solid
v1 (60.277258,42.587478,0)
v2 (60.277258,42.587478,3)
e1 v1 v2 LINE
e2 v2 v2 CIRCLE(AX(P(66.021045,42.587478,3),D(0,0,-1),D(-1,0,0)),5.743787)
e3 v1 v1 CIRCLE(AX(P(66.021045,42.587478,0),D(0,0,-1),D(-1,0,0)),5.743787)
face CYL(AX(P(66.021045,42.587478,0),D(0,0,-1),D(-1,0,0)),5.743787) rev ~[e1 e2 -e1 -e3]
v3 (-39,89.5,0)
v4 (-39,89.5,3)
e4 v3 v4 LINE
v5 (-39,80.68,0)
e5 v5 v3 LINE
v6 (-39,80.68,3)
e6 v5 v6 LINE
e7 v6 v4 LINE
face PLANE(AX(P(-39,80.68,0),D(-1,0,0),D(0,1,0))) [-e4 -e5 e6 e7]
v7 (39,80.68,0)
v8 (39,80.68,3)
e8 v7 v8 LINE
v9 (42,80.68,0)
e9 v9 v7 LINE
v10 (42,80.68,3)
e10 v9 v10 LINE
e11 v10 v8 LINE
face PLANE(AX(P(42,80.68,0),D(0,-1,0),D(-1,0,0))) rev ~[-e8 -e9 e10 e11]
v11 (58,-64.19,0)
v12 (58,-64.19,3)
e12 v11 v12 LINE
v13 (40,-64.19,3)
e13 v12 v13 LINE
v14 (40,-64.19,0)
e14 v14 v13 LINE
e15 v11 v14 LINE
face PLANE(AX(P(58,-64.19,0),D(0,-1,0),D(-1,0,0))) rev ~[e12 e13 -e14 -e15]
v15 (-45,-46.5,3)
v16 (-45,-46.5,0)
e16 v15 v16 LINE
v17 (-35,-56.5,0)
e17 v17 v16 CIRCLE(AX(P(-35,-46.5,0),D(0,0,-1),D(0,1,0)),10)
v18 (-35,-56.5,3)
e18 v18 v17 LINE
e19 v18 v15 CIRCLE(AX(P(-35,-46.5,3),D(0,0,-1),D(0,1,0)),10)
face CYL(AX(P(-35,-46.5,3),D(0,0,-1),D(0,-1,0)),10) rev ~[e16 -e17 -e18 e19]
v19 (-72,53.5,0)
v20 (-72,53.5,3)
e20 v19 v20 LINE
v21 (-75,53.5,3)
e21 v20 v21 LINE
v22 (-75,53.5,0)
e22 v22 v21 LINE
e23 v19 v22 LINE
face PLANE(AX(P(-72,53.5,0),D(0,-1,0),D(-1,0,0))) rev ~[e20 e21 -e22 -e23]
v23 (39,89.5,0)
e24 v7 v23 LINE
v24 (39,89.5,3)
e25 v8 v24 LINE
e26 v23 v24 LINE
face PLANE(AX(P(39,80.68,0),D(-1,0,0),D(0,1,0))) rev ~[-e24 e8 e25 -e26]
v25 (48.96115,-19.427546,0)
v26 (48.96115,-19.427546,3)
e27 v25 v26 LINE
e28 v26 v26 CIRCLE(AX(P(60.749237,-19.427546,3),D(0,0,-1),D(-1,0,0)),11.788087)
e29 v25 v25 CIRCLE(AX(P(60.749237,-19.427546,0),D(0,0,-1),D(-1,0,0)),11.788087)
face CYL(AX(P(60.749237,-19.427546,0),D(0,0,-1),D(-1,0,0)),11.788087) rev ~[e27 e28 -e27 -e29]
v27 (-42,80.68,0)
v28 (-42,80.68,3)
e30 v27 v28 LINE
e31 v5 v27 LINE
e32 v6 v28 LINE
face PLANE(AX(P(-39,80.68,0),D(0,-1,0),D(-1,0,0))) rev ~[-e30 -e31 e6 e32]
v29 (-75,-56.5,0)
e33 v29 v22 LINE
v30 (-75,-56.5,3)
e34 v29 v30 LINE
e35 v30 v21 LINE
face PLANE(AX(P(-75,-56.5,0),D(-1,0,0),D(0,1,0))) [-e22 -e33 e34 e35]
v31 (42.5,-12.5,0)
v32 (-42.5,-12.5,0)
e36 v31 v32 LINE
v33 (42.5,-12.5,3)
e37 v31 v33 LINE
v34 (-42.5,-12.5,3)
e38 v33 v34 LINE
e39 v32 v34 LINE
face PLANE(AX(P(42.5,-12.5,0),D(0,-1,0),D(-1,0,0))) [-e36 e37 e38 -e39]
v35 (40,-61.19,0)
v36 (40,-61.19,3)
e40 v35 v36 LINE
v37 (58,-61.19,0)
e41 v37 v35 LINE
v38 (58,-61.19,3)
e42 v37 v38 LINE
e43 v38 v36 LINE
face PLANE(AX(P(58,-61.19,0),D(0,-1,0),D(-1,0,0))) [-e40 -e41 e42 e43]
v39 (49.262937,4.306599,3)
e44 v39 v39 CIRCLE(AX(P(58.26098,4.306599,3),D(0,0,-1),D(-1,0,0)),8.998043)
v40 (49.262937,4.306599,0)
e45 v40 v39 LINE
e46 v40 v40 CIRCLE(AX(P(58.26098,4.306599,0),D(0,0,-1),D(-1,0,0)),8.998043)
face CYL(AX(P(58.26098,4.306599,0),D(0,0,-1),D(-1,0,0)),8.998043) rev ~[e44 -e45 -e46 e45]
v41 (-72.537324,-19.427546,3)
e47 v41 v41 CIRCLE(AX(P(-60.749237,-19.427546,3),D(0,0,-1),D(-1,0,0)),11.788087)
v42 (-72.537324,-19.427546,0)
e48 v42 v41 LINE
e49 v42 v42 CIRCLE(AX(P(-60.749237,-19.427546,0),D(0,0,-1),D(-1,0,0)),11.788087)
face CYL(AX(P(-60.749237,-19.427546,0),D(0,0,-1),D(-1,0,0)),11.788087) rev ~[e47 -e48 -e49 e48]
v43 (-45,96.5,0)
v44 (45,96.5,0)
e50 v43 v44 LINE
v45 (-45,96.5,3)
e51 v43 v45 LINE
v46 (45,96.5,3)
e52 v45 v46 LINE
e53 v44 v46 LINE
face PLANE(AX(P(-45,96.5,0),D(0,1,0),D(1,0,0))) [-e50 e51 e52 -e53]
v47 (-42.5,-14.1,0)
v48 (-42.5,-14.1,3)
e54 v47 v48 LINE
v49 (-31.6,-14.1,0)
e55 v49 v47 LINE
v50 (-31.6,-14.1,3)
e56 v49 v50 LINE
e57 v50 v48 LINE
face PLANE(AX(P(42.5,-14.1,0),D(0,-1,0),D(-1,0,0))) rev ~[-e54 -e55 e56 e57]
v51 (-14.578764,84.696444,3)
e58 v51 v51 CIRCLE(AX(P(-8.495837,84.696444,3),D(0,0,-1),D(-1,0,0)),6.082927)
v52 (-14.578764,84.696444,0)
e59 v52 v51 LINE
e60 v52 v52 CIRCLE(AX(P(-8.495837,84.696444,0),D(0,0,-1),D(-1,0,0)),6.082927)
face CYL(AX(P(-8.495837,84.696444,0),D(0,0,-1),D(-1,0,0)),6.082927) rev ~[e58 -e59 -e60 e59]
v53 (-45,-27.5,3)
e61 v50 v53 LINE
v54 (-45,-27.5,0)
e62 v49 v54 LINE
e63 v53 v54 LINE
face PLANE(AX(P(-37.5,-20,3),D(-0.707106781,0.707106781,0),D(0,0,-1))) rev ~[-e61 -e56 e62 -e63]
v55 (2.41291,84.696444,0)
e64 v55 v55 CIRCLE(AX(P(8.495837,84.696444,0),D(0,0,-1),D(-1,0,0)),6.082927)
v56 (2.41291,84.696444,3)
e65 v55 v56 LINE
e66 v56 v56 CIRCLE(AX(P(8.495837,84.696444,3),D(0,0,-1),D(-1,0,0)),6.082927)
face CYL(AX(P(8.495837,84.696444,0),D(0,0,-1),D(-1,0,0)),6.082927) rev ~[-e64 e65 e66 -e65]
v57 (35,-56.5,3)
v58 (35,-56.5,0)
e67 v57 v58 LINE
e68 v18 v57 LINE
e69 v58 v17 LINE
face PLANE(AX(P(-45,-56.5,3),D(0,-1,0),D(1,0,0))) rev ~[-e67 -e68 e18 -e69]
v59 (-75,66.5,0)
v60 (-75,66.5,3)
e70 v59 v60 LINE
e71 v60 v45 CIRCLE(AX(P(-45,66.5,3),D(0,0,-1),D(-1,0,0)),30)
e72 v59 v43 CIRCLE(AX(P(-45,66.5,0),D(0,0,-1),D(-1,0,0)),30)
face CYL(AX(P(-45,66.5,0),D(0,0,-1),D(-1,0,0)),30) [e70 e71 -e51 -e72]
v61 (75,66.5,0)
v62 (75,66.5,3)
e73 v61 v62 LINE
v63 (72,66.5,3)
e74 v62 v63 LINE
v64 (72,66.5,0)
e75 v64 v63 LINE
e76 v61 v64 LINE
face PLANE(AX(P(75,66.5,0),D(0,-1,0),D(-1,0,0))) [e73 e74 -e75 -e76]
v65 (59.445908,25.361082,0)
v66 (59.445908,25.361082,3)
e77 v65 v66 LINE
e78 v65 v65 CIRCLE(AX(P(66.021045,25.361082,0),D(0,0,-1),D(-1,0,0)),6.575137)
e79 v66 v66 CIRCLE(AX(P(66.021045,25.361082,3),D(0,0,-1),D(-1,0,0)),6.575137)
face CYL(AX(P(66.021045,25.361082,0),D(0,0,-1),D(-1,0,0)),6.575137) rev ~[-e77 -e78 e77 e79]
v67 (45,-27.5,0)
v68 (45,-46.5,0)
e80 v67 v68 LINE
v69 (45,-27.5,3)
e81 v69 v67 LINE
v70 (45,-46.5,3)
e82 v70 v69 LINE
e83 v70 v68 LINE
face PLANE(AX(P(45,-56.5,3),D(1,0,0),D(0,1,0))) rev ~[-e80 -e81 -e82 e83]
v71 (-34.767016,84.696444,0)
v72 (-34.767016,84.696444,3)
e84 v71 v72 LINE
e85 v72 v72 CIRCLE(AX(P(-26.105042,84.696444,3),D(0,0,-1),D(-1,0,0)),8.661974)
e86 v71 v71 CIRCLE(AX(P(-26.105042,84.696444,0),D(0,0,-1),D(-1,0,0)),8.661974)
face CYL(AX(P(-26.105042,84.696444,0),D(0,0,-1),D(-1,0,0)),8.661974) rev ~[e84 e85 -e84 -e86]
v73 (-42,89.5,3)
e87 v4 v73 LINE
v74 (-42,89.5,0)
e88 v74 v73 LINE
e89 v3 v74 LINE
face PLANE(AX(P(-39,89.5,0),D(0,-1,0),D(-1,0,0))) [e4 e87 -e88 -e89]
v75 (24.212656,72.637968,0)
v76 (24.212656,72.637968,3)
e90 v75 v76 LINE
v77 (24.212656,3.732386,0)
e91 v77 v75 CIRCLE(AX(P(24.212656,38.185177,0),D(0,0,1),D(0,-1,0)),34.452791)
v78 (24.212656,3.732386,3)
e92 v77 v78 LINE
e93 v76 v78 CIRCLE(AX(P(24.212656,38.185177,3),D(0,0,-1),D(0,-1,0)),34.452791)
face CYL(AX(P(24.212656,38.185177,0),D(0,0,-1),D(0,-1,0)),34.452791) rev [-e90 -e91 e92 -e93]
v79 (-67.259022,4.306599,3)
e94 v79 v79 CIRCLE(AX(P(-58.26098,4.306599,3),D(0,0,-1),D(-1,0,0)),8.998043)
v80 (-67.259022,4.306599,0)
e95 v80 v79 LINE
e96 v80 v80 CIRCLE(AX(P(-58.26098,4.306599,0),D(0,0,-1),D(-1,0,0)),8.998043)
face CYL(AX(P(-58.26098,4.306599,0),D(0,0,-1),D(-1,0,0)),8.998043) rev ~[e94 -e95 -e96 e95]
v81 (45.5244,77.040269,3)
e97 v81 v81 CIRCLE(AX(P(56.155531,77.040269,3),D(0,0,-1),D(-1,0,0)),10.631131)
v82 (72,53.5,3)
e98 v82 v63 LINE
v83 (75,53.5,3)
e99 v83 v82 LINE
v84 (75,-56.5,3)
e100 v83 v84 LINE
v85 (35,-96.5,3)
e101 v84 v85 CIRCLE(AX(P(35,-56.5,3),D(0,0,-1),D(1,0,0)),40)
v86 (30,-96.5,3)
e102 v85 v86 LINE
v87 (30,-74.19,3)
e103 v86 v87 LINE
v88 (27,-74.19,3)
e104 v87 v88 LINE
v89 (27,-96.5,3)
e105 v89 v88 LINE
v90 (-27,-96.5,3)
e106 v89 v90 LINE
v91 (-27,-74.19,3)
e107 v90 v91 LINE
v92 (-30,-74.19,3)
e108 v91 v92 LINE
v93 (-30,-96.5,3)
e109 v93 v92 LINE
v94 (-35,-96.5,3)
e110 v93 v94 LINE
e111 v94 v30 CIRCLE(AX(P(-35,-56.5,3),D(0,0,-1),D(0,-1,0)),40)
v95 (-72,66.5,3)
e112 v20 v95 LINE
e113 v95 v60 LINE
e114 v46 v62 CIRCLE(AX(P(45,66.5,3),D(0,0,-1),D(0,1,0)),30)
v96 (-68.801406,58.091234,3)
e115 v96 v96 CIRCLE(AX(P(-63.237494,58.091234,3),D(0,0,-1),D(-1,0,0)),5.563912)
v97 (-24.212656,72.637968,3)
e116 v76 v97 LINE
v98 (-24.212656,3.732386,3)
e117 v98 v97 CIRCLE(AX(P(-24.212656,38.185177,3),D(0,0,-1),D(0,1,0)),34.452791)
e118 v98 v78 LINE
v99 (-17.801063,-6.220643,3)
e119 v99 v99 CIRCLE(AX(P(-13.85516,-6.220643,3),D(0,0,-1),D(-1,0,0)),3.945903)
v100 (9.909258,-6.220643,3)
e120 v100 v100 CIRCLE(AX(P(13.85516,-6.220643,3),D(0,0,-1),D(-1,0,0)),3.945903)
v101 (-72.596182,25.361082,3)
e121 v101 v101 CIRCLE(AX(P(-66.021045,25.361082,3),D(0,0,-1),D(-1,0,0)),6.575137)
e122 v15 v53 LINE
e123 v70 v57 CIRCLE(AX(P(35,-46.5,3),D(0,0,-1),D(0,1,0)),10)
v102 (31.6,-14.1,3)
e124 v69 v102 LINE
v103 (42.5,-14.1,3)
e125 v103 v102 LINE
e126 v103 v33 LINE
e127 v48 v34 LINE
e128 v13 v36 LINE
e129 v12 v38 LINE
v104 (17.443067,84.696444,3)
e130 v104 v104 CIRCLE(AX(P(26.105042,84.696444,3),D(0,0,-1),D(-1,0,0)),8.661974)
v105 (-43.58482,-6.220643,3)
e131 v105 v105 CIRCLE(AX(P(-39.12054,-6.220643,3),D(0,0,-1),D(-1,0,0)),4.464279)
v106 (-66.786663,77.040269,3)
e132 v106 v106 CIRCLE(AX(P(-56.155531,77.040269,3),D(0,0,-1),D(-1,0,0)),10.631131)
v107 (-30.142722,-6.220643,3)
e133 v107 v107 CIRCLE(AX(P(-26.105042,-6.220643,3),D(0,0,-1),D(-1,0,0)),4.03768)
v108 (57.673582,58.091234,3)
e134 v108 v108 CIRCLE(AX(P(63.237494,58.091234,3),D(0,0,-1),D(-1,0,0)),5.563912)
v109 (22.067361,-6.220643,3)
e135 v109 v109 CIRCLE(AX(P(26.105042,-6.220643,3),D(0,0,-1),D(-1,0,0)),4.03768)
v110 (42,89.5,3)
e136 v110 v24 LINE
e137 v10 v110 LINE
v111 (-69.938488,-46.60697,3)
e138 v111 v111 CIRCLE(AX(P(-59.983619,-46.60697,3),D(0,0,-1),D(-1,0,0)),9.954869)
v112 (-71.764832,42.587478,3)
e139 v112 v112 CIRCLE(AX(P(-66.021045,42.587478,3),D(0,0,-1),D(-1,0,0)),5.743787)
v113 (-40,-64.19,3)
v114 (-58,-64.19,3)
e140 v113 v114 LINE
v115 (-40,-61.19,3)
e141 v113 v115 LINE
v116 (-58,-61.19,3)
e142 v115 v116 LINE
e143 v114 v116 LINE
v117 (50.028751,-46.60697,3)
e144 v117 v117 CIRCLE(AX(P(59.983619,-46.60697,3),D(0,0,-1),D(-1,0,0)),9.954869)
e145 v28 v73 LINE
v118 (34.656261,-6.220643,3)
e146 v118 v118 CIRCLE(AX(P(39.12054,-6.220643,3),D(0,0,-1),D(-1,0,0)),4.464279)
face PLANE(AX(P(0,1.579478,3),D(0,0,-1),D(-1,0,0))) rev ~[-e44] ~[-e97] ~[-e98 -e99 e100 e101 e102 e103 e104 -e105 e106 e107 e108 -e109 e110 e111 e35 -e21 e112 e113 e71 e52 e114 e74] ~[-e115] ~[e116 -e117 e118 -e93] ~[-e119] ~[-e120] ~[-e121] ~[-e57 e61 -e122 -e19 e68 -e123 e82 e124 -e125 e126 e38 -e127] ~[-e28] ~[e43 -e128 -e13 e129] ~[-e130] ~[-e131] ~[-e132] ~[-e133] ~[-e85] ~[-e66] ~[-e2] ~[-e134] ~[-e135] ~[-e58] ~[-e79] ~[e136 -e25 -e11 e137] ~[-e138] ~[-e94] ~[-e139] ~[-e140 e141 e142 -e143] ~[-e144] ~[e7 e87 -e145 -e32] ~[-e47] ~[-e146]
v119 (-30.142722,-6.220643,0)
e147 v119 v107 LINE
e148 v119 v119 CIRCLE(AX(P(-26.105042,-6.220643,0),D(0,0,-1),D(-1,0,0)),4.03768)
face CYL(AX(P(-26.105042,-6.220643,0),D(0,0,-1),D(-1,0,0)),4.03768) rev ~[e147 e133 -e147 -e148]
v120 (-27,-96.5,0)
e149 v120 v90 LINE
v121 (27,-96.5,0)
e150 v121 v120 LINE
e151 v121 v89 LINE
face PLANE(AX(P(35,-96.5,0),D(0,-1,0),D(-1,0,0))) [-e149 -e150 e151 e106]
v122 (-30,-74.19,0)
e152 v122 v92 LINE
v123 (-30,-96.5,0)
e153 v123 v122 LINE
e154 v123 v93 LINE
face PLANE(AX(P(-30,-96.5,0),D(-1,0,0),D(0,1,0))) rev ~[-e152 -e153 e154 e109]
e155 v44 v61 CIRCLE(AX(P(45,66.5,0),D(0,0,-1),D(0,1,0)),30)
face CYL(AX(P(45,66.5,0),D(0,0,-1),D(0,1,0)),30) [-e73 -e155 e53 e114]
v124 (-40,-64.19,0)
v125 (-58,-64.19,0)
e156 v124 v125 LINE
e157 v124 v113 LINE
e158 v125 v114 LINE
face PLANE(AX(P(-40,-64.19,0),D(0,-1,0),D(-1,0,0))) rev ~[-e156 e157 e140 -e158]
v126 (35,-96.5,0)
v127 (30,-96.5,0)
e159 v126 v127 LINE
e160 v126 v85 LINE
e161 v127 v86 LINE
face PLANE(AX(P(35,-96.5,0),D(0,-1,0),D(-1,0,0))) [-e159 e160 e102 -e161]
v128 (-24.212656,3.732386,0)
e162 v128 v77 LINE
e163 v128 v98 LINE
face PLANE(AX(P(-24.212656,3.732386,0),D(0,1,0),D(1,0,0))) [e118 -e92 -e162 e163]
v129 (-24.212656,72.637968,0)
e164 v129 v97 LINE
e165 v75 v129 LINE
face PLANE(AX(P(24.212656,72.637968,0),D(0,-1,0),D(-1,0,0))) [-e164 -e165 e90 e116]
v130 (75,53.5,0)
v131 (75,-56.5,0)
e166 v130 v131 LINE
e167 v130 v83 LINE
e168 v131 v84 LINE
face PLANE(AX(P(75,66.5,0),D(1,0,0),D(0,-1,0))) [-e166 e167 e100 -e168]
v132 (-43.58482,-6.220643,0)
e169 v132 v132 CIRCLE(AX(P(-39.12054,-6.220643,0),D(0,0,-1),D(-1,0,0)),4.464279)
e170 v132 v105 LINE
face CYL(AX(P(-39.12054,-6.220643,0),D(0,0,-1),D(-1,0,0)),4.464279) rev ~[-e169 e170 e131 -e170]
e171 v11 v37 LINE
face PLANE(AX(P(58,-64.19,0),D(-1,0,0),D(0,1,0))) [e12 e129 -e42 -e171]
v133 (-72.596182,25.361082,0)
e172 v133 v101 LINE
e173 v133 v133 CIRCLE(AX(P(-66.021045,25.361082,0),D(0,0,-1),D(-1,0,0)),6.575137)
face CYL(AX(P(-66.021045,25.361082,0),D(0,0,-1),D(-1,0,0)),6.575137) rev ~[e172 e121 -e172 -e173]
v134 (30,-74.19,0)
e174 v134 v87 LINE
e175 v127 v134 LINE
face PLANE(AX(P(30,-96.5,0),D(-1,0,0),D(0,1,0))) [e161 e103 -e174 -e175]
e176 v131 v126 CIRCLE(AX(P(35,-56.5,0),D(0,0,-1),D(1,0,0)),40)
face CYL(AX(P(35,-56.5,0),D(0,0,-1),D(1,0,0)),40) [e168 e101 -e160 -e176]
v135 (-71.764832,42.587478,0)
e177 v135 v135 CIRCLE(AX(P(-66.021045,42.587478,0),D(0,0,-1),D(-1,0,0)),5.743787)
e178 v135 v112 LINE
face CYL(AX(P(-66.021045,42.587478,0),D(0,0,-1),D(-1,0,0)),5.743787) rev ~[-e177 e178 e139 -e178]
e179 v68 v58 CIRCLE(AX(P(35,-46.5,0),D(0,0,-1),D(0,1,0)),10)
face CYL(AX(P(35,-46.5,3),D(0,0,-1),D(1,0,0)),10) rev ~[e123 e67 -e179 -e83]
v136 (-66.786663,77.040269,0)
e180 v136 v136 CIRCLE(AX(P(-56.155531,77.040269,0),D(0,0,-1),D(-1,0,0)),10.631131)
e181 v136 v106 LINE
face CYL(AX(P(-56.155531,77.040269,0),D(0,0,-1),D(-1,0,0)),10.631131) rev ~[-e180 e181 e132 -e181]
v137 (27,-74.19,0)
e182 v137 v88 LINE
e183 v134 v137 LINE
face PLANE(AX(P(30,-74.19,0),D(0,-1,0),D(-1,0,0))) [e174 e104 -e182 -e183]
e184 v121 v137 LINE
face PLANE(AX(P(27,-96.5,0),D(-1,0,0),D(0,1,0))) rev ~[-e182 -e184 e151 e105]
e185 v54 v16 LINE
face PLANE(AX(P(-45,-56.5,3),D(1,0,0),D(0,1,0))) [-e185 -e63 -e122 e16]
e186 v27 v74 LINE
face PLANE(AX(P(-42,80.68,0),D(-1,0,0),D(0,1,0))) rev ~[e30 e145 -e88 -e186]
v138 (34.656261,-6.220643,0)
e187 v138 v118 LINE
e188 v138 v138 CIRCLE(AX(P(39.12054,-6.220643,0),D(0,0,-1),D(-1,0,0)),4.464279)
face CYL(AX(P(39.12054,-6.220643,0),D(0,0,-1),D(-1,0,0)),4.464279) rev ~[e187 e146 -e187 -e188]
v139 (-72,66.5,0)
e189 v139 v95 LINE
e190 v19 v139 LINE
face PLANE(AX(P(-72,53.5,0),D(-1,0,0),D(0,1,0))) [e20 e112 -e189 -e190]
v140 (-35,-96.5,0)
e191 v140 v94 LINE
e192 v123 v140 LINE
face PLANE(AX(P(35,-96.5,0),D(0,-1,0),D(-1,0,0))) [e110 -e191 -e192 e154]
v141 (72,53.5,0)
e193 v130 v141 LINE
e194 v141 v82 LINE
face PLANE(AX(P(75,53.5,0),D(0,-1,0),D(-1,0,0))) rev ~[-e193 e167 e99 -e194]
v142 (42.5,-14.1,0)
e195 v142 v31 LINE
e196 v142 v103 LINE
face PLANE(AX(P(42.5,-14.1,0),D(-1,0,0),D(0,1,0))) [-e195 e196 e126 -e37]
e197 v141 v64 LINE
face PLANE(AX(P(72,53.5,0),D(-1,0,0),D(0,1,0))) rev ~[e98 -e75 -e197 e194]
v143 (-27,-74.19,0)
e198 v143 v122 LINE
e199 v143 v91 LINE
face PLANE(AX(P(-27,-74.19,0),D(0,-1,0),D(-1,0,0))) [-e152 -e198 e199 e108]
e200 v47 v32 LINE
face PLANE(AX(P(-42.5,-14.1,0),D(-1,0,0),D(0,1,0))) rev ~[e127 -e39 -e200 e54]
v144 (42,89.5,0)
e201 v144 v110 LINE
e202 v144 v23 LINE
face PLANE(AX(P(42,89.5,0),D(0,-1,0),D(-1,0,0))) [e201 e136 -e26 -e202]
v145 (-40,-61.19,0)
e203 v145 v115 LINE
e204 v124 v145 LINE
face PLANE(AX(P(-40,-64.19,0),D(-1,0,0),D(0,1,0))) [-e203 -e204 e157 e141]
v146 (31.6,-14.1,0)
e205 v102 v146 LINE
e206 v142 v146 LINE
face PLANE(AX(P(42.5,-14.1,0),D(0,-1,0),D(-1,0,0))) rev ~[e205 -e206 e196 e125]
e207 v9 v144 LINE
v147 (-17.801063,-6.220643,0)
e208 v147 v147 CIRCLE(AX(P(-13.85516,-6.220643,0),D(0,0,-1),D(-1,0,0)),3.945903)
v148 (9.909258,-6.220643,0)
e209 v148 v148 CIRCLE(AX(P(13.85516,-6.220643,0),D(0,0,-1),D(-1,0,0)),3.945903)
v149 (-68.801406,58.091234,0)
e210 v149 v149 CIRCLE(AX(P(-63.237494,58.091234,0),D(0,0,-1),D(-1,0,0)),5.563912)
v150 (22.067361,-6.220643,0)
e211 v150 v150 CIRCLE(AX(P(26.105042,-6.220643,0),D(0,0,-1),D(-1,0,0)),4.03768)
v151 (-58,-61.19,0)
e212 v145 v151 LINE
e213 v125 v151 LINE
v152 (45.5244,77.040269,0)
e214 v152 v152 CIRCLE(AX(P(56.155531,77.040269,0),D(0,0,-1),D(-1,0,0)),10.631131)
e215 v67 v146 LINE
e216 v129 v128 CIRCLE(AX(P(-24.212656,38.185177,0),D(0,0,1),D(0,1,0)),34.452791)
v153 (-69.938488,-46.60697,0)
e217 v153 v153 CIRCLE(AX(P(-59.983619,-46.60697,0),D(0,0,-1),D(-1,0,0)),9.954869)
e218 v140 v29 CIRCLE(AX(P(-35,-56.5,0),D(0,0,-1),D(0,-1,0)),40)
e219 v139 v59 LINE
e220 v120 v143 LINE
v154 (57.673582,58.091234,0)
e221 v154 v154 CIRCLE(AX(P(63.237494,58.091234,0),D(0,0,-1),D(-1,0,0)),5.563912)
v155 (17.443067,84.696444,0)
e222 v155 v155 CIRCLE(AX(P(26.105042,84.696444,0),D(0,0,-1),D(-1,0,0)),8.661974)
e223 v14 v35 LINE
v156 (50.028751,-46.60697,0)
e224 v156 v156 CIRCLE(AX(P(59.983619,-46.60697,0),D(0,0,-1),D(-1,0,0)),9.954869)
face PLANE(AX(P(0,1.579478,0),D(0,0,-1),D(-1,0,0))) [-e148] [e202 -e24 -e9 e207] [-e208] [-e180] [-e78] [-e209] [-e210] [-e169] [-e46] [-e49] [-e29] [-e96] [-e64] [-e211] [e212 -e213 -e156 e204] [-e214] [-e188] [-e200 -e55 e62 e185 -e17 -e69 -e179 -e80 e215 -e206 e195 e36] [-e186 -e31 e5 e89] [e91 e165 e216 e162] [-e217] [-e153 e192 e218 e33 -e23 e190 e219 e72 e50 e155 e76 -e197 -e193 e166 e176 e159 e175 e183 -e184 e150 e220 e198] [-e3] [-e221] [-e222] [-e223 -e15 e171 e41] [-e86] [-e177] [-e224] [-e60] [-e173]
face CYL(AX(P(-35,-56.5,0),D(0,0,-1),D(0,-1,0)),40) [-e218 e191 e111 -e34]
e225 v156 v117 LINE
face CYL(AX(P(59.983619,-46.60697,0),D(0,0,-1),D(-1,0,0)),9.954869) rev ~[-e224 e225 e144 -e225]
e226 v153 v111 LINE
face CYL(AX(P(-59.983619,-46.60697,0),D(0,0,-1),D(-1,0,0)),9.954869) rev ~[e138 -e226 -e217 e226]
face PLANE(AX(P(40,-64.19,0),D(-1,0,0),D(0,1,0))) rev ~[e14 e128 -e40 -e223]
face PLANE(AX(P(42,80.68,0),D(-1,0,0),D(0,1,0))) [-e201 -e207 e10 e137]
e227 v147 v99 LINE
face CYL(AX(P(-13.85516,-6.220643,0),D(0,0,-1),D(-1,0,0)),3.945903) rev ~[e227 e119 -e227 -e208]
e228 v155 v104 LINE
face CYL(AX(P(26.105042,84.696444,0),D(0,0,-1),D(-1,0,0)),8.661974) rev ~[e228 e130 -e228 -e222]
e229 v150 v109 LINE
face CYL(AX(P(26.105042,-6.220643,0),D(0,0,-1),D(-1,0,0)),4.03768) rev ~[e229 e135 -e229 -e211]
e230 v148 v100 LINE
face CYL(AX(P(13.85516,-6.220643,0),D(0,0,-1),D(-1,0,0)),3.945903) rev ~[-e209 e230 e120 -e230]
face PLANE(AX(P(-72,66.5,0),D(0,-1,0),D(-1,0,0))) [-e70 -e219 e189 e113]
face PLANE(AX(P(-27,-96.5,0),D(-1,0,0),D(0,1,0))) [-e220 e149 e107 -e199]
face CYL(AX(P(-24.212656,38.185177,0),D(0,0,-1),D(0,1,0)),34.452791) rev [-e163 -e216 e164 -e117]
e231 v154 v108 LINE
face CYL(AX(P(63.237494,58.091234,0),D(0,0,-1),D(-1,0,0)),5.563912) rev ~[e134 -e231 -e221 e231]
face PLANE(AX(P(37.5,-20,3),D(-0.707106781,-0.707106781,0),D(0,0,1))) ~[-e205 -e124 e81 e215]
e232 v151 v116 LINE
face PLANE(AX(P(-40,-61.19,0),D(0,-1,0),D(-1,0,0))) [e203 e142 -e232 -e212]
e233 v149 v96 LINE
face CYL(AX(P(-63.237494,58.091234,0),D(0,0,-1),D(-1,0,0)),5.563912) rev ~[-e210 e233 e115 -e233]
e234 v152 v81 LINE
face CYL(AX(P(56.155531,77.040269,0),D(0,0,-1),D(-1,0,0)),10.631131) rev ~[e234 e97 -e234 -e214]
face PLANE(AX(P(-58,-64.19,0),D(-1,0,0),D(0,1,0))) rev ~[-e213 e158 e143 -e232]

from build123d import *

# Parameters (mm, degrees)
BOSS_EXTRUDE1_DEPTH = 3
SKETCH2_W           = 90
SKETCH2_H           = 44
CUT_EXTRUDE1_DEPTH  = 10
FILLET1_R           = 10
CHAMFER1_SIZE       = 15
SKETCH3_W           = 85
SKETCH3_H           = 1.6
CUT_EXTRUDE2_DEPTH  = 10
SKETCH5_W           = 3
SKETCH5_H           = 13
SKETCH5_H_2         = 8.82
SKETCH5_W_2         = 18
SKETCH5_H_3         = 3
SKETCH5_H_4         = 22.31
CUT_EXTRUDE3_DEPTH  = 10
CUT_EXTRUDE4_DEPTH  = 10
SKETCH7_R           = 10.631131443
SKETCH7_R_2         = 8.661974079
SKETCH7_R_3         = 5.563912072
SKETCH7_R_4         = 5.743787148
SKETCH7_R_5         = 6.57513677
SKETCH7_R_6         = 8.998042507
SKETCH7_R_7         = 11.788086797
SKETCH7_R_8         = 9.954868747
SKETCH7_R_9         = 6.082926802
SKETCH7_R_10        = 4.464279257
SKETCH7_R_11        = 4.037680116
SKETCH7_R_12        = 3.945902669
CUT_EXTRUDE5_DEPTH  = 10


with BuildPart() as part:
    # Sketch1 → Boss-Extrude1 (new body)
    with BuildSketch(Plane.XY):
        with BuildLine():
            Line((-45, 96.5), (45, 96.5))
            ThreePointArc((45, 96.5), (66.213203436, 87.713203436), (75, 66.5))
            Line((75, 66.5), (75, -56.5))
            ThreePointArc((75, -56.5), (63.284271247, -84.784271247), (35, -96.5))
            Line((35, -96.5), (0.5, -96.5))
            Line((0.5, -96.5), (-0.5, -96.5))
            Line((-0.5, -96.5), (-35, -96.5))
            ThreePointArc((-35, -96.5), (-63.284271247, -84.784271247), (-75, -56.5))
            Line((-75, -56.5), (-75, 66.5))
            ThreePointArc((-75, 66.5), (-66.213203436, 87.713203436), (-45, 96.5))
        make_face()
    extrude(amount=BOSS_EXTRUDE1_DEPTH)

    # Sketch2 → Cut-Extrude1 (cut)
    with BuildSketch(Plane.XY.offset(3)):
        with Locations((0, -34.5)):
            Rectangle(SKETCH2_W, SKETCH2_H)
    extrude(amount=-CUT_EXTRUDE1_DEPTH, mode=Mode.SUBTRACT)

    # Fillet1
    fillet1_edges = [part.edges().sort_by_distance(p)[0] for p in [
        (45, -56.5, 1.5),
        (-45, -56.5, 1.5),
    ]]
    fillet(fillet1_edges, radius=FILLET1_R)

    # Chamfer1
    chamfer1_edges = [part.edges().sort_by_distance(p)[0] for p in [
        (45, -12.5, 1.5),
        (-45, -12.5, 1.5),
    ]]
    chamfer(chamfer1_edges, length=CHAMFER1_SIZE)

    # Sketch3 → Cut-Extrude2 (cut)
    with BuildSketch(Plane(origin=(0, 0, 0), x_dir=(-1, 0, 0), z_dir=(0, 0, -1))):
        with Locations((0, -13.3)):
            Rectangle(SKETCH3_W, SKETCH3_H)
    extrude(amount=-CUT_EXTRUDE2_DEPTH, mode=Mode.SUBTRACT)

    # Sketch5 → Cut-Extrude3 (cut)
    with BuildSketch(Plane(origin=(0, 0, 0), x_dir=(-1, 0, 0), z_dir=(0, 0, -1))):
        with Locations((-73.5, 60)):
            Rectangle(SKETCH5_W, SKETCH5_H)
        with Locations((-40.5, 85.09)):
            Rectangle(SKETCH5_W, SKETCH5_H_2)
        with Locations((73.5, 60)):
            Rectangle(SKETCH5_W, SKETCH5_H)
        with Locations((40.5, 85.09)):
            Rectangle(SKETCH5_W, SKETCH5_H_2)
        with Locations((-49, -62.69)):
            Rectangle(SKETCH5_W_2, SKETCH5_H_3)
        with Locations((49, -62.69)):
            Rectangle(SKETCH5_W_2, SKETCH5_H_3)
        with Locations((28.5, -85.345)):
            Rectangle(SKETCH5_W, SKETCH5_H_4)
        with Locations((-28.5, -85.345)):
            Rectangle(SKETCH5_W, SKETCH5_H_4)
    extrude(amount=-CUT_EXTRUDE3_DEPTH, mode=Mode.SUBTRACT)

    # Sketch6 → Cut-Extrude4 (cut)
    with BuildSketch(Plane(origin=(0, 0, 0), x_dir=(-1, 0, 0), z_dir=(0, 0, -1))):
        with BuildLine():
            Line((-24.212655847, 72.63796754), (24.212655847, 72.63796754))
            ThreePointArc((24.212655847, 72.63796754), (58.665446775, 38.185176612), (24.212655847, 3.732385684))
            Line((24.212655847, 3.732385684), (-24.212655847, 3.732385684))
            ThreePointArc((-24.212655847, 3.732385684), (-58.665446775, 38.185176612), (-24.212655847, 72.63796754))
        make_face()
    extrude(amount=-CUT_EXTRUDE4_DEPTH, mode=Mode.SUBTRACT)

    # Sketch7 → Cut-Extrude5 (cut)
    with BuildSketch(Plane(origin=(0, 0, 0), x_dir=(-1, 0, 0), z_dir=(0, 0, -1))):
        with Locations((-56.155531371, 77.040268603)):
            Circle(SKETCH7_R)
        with Locations((-26.105041506, 84.696444365)):
            Circle(SKETCH7_R_2)
        with Locations((-63.23749395, 58.091233593)):
            Circle(SKETCH7_R_3)
        with Locations((-66.021045237, 42.587477675)):
            Circle(SKETCH7_R_4)
        with Locations((-66.021045237, 25.361082211)):
            Circle(SKETCH7_R_5)
        with Locations((-58.260979705, 4.306598866)):
            Circle(SKETCH7_R_6)
        with Locations((-60.749236828, -19.427545996)):
            Circle(SKETCH7_R_7)
        with Locations((-59.983619252, -46.60696995)):
            Circle(SKETCH7_R_8)
        with Locations((-8.495837254, 84.696444365)):
            Circle(SKETCH7_R_9)
        with Locations((-39.120540301, -6.220642806)):
            Circle(SKETCH7_R_10)
        with Locations((-26.105041506, -6.220642806)):
            Circle(SKETCH7_R_11)
        with Locations((-13.855160287, -6.220642806)):
            Circle(SKETCH7_R_12)
        with Locations((13.855160287, -6.220642806)):
            Circle(SKETCH7_R_12)
        with Locations((26.105041506, -6.220642806)):
            Circle(SKETCH7_R_11)
        with Locations((39.120540301, -6.220642806)):
            Circle(SKETCH7_R_10)
        with Locations((8.495837254, 84.696444365)):
            Circle(SKETCH7_R_9)
        with Locations((59.983619252, -46.60696995)):
            Circle(SKETCH7_R_8)
        with Locations((60.749236828, -19.427545996)):
            Circle(SKETCH7_R_7)
        with Locations((58.260979705, 4.306598866)):
            Circle(SKETCH7_R_6)
        with Locations((66.021045237, 25.361082211)):
            Circle(SKETCH7_R_5)
        with Locations((66.021045237, 42.587477675)):
            Circle(SKETCH7_R_4)
        with Locations((63.23749395, 58.091233593)):
            Circle(SKETCH7_R_3)
        with Locations((26.105041506, 84.696444365)):
            Circle(SKETCH7_R_2)
        with Locations((56.155531371, 77.040268603)):
            Circle(SKETCH7_R)
    extrude(amount=-CUT_EXTRUDE5_DEPTH, mode=Mode.SUBTRACT)


solid = part.part
